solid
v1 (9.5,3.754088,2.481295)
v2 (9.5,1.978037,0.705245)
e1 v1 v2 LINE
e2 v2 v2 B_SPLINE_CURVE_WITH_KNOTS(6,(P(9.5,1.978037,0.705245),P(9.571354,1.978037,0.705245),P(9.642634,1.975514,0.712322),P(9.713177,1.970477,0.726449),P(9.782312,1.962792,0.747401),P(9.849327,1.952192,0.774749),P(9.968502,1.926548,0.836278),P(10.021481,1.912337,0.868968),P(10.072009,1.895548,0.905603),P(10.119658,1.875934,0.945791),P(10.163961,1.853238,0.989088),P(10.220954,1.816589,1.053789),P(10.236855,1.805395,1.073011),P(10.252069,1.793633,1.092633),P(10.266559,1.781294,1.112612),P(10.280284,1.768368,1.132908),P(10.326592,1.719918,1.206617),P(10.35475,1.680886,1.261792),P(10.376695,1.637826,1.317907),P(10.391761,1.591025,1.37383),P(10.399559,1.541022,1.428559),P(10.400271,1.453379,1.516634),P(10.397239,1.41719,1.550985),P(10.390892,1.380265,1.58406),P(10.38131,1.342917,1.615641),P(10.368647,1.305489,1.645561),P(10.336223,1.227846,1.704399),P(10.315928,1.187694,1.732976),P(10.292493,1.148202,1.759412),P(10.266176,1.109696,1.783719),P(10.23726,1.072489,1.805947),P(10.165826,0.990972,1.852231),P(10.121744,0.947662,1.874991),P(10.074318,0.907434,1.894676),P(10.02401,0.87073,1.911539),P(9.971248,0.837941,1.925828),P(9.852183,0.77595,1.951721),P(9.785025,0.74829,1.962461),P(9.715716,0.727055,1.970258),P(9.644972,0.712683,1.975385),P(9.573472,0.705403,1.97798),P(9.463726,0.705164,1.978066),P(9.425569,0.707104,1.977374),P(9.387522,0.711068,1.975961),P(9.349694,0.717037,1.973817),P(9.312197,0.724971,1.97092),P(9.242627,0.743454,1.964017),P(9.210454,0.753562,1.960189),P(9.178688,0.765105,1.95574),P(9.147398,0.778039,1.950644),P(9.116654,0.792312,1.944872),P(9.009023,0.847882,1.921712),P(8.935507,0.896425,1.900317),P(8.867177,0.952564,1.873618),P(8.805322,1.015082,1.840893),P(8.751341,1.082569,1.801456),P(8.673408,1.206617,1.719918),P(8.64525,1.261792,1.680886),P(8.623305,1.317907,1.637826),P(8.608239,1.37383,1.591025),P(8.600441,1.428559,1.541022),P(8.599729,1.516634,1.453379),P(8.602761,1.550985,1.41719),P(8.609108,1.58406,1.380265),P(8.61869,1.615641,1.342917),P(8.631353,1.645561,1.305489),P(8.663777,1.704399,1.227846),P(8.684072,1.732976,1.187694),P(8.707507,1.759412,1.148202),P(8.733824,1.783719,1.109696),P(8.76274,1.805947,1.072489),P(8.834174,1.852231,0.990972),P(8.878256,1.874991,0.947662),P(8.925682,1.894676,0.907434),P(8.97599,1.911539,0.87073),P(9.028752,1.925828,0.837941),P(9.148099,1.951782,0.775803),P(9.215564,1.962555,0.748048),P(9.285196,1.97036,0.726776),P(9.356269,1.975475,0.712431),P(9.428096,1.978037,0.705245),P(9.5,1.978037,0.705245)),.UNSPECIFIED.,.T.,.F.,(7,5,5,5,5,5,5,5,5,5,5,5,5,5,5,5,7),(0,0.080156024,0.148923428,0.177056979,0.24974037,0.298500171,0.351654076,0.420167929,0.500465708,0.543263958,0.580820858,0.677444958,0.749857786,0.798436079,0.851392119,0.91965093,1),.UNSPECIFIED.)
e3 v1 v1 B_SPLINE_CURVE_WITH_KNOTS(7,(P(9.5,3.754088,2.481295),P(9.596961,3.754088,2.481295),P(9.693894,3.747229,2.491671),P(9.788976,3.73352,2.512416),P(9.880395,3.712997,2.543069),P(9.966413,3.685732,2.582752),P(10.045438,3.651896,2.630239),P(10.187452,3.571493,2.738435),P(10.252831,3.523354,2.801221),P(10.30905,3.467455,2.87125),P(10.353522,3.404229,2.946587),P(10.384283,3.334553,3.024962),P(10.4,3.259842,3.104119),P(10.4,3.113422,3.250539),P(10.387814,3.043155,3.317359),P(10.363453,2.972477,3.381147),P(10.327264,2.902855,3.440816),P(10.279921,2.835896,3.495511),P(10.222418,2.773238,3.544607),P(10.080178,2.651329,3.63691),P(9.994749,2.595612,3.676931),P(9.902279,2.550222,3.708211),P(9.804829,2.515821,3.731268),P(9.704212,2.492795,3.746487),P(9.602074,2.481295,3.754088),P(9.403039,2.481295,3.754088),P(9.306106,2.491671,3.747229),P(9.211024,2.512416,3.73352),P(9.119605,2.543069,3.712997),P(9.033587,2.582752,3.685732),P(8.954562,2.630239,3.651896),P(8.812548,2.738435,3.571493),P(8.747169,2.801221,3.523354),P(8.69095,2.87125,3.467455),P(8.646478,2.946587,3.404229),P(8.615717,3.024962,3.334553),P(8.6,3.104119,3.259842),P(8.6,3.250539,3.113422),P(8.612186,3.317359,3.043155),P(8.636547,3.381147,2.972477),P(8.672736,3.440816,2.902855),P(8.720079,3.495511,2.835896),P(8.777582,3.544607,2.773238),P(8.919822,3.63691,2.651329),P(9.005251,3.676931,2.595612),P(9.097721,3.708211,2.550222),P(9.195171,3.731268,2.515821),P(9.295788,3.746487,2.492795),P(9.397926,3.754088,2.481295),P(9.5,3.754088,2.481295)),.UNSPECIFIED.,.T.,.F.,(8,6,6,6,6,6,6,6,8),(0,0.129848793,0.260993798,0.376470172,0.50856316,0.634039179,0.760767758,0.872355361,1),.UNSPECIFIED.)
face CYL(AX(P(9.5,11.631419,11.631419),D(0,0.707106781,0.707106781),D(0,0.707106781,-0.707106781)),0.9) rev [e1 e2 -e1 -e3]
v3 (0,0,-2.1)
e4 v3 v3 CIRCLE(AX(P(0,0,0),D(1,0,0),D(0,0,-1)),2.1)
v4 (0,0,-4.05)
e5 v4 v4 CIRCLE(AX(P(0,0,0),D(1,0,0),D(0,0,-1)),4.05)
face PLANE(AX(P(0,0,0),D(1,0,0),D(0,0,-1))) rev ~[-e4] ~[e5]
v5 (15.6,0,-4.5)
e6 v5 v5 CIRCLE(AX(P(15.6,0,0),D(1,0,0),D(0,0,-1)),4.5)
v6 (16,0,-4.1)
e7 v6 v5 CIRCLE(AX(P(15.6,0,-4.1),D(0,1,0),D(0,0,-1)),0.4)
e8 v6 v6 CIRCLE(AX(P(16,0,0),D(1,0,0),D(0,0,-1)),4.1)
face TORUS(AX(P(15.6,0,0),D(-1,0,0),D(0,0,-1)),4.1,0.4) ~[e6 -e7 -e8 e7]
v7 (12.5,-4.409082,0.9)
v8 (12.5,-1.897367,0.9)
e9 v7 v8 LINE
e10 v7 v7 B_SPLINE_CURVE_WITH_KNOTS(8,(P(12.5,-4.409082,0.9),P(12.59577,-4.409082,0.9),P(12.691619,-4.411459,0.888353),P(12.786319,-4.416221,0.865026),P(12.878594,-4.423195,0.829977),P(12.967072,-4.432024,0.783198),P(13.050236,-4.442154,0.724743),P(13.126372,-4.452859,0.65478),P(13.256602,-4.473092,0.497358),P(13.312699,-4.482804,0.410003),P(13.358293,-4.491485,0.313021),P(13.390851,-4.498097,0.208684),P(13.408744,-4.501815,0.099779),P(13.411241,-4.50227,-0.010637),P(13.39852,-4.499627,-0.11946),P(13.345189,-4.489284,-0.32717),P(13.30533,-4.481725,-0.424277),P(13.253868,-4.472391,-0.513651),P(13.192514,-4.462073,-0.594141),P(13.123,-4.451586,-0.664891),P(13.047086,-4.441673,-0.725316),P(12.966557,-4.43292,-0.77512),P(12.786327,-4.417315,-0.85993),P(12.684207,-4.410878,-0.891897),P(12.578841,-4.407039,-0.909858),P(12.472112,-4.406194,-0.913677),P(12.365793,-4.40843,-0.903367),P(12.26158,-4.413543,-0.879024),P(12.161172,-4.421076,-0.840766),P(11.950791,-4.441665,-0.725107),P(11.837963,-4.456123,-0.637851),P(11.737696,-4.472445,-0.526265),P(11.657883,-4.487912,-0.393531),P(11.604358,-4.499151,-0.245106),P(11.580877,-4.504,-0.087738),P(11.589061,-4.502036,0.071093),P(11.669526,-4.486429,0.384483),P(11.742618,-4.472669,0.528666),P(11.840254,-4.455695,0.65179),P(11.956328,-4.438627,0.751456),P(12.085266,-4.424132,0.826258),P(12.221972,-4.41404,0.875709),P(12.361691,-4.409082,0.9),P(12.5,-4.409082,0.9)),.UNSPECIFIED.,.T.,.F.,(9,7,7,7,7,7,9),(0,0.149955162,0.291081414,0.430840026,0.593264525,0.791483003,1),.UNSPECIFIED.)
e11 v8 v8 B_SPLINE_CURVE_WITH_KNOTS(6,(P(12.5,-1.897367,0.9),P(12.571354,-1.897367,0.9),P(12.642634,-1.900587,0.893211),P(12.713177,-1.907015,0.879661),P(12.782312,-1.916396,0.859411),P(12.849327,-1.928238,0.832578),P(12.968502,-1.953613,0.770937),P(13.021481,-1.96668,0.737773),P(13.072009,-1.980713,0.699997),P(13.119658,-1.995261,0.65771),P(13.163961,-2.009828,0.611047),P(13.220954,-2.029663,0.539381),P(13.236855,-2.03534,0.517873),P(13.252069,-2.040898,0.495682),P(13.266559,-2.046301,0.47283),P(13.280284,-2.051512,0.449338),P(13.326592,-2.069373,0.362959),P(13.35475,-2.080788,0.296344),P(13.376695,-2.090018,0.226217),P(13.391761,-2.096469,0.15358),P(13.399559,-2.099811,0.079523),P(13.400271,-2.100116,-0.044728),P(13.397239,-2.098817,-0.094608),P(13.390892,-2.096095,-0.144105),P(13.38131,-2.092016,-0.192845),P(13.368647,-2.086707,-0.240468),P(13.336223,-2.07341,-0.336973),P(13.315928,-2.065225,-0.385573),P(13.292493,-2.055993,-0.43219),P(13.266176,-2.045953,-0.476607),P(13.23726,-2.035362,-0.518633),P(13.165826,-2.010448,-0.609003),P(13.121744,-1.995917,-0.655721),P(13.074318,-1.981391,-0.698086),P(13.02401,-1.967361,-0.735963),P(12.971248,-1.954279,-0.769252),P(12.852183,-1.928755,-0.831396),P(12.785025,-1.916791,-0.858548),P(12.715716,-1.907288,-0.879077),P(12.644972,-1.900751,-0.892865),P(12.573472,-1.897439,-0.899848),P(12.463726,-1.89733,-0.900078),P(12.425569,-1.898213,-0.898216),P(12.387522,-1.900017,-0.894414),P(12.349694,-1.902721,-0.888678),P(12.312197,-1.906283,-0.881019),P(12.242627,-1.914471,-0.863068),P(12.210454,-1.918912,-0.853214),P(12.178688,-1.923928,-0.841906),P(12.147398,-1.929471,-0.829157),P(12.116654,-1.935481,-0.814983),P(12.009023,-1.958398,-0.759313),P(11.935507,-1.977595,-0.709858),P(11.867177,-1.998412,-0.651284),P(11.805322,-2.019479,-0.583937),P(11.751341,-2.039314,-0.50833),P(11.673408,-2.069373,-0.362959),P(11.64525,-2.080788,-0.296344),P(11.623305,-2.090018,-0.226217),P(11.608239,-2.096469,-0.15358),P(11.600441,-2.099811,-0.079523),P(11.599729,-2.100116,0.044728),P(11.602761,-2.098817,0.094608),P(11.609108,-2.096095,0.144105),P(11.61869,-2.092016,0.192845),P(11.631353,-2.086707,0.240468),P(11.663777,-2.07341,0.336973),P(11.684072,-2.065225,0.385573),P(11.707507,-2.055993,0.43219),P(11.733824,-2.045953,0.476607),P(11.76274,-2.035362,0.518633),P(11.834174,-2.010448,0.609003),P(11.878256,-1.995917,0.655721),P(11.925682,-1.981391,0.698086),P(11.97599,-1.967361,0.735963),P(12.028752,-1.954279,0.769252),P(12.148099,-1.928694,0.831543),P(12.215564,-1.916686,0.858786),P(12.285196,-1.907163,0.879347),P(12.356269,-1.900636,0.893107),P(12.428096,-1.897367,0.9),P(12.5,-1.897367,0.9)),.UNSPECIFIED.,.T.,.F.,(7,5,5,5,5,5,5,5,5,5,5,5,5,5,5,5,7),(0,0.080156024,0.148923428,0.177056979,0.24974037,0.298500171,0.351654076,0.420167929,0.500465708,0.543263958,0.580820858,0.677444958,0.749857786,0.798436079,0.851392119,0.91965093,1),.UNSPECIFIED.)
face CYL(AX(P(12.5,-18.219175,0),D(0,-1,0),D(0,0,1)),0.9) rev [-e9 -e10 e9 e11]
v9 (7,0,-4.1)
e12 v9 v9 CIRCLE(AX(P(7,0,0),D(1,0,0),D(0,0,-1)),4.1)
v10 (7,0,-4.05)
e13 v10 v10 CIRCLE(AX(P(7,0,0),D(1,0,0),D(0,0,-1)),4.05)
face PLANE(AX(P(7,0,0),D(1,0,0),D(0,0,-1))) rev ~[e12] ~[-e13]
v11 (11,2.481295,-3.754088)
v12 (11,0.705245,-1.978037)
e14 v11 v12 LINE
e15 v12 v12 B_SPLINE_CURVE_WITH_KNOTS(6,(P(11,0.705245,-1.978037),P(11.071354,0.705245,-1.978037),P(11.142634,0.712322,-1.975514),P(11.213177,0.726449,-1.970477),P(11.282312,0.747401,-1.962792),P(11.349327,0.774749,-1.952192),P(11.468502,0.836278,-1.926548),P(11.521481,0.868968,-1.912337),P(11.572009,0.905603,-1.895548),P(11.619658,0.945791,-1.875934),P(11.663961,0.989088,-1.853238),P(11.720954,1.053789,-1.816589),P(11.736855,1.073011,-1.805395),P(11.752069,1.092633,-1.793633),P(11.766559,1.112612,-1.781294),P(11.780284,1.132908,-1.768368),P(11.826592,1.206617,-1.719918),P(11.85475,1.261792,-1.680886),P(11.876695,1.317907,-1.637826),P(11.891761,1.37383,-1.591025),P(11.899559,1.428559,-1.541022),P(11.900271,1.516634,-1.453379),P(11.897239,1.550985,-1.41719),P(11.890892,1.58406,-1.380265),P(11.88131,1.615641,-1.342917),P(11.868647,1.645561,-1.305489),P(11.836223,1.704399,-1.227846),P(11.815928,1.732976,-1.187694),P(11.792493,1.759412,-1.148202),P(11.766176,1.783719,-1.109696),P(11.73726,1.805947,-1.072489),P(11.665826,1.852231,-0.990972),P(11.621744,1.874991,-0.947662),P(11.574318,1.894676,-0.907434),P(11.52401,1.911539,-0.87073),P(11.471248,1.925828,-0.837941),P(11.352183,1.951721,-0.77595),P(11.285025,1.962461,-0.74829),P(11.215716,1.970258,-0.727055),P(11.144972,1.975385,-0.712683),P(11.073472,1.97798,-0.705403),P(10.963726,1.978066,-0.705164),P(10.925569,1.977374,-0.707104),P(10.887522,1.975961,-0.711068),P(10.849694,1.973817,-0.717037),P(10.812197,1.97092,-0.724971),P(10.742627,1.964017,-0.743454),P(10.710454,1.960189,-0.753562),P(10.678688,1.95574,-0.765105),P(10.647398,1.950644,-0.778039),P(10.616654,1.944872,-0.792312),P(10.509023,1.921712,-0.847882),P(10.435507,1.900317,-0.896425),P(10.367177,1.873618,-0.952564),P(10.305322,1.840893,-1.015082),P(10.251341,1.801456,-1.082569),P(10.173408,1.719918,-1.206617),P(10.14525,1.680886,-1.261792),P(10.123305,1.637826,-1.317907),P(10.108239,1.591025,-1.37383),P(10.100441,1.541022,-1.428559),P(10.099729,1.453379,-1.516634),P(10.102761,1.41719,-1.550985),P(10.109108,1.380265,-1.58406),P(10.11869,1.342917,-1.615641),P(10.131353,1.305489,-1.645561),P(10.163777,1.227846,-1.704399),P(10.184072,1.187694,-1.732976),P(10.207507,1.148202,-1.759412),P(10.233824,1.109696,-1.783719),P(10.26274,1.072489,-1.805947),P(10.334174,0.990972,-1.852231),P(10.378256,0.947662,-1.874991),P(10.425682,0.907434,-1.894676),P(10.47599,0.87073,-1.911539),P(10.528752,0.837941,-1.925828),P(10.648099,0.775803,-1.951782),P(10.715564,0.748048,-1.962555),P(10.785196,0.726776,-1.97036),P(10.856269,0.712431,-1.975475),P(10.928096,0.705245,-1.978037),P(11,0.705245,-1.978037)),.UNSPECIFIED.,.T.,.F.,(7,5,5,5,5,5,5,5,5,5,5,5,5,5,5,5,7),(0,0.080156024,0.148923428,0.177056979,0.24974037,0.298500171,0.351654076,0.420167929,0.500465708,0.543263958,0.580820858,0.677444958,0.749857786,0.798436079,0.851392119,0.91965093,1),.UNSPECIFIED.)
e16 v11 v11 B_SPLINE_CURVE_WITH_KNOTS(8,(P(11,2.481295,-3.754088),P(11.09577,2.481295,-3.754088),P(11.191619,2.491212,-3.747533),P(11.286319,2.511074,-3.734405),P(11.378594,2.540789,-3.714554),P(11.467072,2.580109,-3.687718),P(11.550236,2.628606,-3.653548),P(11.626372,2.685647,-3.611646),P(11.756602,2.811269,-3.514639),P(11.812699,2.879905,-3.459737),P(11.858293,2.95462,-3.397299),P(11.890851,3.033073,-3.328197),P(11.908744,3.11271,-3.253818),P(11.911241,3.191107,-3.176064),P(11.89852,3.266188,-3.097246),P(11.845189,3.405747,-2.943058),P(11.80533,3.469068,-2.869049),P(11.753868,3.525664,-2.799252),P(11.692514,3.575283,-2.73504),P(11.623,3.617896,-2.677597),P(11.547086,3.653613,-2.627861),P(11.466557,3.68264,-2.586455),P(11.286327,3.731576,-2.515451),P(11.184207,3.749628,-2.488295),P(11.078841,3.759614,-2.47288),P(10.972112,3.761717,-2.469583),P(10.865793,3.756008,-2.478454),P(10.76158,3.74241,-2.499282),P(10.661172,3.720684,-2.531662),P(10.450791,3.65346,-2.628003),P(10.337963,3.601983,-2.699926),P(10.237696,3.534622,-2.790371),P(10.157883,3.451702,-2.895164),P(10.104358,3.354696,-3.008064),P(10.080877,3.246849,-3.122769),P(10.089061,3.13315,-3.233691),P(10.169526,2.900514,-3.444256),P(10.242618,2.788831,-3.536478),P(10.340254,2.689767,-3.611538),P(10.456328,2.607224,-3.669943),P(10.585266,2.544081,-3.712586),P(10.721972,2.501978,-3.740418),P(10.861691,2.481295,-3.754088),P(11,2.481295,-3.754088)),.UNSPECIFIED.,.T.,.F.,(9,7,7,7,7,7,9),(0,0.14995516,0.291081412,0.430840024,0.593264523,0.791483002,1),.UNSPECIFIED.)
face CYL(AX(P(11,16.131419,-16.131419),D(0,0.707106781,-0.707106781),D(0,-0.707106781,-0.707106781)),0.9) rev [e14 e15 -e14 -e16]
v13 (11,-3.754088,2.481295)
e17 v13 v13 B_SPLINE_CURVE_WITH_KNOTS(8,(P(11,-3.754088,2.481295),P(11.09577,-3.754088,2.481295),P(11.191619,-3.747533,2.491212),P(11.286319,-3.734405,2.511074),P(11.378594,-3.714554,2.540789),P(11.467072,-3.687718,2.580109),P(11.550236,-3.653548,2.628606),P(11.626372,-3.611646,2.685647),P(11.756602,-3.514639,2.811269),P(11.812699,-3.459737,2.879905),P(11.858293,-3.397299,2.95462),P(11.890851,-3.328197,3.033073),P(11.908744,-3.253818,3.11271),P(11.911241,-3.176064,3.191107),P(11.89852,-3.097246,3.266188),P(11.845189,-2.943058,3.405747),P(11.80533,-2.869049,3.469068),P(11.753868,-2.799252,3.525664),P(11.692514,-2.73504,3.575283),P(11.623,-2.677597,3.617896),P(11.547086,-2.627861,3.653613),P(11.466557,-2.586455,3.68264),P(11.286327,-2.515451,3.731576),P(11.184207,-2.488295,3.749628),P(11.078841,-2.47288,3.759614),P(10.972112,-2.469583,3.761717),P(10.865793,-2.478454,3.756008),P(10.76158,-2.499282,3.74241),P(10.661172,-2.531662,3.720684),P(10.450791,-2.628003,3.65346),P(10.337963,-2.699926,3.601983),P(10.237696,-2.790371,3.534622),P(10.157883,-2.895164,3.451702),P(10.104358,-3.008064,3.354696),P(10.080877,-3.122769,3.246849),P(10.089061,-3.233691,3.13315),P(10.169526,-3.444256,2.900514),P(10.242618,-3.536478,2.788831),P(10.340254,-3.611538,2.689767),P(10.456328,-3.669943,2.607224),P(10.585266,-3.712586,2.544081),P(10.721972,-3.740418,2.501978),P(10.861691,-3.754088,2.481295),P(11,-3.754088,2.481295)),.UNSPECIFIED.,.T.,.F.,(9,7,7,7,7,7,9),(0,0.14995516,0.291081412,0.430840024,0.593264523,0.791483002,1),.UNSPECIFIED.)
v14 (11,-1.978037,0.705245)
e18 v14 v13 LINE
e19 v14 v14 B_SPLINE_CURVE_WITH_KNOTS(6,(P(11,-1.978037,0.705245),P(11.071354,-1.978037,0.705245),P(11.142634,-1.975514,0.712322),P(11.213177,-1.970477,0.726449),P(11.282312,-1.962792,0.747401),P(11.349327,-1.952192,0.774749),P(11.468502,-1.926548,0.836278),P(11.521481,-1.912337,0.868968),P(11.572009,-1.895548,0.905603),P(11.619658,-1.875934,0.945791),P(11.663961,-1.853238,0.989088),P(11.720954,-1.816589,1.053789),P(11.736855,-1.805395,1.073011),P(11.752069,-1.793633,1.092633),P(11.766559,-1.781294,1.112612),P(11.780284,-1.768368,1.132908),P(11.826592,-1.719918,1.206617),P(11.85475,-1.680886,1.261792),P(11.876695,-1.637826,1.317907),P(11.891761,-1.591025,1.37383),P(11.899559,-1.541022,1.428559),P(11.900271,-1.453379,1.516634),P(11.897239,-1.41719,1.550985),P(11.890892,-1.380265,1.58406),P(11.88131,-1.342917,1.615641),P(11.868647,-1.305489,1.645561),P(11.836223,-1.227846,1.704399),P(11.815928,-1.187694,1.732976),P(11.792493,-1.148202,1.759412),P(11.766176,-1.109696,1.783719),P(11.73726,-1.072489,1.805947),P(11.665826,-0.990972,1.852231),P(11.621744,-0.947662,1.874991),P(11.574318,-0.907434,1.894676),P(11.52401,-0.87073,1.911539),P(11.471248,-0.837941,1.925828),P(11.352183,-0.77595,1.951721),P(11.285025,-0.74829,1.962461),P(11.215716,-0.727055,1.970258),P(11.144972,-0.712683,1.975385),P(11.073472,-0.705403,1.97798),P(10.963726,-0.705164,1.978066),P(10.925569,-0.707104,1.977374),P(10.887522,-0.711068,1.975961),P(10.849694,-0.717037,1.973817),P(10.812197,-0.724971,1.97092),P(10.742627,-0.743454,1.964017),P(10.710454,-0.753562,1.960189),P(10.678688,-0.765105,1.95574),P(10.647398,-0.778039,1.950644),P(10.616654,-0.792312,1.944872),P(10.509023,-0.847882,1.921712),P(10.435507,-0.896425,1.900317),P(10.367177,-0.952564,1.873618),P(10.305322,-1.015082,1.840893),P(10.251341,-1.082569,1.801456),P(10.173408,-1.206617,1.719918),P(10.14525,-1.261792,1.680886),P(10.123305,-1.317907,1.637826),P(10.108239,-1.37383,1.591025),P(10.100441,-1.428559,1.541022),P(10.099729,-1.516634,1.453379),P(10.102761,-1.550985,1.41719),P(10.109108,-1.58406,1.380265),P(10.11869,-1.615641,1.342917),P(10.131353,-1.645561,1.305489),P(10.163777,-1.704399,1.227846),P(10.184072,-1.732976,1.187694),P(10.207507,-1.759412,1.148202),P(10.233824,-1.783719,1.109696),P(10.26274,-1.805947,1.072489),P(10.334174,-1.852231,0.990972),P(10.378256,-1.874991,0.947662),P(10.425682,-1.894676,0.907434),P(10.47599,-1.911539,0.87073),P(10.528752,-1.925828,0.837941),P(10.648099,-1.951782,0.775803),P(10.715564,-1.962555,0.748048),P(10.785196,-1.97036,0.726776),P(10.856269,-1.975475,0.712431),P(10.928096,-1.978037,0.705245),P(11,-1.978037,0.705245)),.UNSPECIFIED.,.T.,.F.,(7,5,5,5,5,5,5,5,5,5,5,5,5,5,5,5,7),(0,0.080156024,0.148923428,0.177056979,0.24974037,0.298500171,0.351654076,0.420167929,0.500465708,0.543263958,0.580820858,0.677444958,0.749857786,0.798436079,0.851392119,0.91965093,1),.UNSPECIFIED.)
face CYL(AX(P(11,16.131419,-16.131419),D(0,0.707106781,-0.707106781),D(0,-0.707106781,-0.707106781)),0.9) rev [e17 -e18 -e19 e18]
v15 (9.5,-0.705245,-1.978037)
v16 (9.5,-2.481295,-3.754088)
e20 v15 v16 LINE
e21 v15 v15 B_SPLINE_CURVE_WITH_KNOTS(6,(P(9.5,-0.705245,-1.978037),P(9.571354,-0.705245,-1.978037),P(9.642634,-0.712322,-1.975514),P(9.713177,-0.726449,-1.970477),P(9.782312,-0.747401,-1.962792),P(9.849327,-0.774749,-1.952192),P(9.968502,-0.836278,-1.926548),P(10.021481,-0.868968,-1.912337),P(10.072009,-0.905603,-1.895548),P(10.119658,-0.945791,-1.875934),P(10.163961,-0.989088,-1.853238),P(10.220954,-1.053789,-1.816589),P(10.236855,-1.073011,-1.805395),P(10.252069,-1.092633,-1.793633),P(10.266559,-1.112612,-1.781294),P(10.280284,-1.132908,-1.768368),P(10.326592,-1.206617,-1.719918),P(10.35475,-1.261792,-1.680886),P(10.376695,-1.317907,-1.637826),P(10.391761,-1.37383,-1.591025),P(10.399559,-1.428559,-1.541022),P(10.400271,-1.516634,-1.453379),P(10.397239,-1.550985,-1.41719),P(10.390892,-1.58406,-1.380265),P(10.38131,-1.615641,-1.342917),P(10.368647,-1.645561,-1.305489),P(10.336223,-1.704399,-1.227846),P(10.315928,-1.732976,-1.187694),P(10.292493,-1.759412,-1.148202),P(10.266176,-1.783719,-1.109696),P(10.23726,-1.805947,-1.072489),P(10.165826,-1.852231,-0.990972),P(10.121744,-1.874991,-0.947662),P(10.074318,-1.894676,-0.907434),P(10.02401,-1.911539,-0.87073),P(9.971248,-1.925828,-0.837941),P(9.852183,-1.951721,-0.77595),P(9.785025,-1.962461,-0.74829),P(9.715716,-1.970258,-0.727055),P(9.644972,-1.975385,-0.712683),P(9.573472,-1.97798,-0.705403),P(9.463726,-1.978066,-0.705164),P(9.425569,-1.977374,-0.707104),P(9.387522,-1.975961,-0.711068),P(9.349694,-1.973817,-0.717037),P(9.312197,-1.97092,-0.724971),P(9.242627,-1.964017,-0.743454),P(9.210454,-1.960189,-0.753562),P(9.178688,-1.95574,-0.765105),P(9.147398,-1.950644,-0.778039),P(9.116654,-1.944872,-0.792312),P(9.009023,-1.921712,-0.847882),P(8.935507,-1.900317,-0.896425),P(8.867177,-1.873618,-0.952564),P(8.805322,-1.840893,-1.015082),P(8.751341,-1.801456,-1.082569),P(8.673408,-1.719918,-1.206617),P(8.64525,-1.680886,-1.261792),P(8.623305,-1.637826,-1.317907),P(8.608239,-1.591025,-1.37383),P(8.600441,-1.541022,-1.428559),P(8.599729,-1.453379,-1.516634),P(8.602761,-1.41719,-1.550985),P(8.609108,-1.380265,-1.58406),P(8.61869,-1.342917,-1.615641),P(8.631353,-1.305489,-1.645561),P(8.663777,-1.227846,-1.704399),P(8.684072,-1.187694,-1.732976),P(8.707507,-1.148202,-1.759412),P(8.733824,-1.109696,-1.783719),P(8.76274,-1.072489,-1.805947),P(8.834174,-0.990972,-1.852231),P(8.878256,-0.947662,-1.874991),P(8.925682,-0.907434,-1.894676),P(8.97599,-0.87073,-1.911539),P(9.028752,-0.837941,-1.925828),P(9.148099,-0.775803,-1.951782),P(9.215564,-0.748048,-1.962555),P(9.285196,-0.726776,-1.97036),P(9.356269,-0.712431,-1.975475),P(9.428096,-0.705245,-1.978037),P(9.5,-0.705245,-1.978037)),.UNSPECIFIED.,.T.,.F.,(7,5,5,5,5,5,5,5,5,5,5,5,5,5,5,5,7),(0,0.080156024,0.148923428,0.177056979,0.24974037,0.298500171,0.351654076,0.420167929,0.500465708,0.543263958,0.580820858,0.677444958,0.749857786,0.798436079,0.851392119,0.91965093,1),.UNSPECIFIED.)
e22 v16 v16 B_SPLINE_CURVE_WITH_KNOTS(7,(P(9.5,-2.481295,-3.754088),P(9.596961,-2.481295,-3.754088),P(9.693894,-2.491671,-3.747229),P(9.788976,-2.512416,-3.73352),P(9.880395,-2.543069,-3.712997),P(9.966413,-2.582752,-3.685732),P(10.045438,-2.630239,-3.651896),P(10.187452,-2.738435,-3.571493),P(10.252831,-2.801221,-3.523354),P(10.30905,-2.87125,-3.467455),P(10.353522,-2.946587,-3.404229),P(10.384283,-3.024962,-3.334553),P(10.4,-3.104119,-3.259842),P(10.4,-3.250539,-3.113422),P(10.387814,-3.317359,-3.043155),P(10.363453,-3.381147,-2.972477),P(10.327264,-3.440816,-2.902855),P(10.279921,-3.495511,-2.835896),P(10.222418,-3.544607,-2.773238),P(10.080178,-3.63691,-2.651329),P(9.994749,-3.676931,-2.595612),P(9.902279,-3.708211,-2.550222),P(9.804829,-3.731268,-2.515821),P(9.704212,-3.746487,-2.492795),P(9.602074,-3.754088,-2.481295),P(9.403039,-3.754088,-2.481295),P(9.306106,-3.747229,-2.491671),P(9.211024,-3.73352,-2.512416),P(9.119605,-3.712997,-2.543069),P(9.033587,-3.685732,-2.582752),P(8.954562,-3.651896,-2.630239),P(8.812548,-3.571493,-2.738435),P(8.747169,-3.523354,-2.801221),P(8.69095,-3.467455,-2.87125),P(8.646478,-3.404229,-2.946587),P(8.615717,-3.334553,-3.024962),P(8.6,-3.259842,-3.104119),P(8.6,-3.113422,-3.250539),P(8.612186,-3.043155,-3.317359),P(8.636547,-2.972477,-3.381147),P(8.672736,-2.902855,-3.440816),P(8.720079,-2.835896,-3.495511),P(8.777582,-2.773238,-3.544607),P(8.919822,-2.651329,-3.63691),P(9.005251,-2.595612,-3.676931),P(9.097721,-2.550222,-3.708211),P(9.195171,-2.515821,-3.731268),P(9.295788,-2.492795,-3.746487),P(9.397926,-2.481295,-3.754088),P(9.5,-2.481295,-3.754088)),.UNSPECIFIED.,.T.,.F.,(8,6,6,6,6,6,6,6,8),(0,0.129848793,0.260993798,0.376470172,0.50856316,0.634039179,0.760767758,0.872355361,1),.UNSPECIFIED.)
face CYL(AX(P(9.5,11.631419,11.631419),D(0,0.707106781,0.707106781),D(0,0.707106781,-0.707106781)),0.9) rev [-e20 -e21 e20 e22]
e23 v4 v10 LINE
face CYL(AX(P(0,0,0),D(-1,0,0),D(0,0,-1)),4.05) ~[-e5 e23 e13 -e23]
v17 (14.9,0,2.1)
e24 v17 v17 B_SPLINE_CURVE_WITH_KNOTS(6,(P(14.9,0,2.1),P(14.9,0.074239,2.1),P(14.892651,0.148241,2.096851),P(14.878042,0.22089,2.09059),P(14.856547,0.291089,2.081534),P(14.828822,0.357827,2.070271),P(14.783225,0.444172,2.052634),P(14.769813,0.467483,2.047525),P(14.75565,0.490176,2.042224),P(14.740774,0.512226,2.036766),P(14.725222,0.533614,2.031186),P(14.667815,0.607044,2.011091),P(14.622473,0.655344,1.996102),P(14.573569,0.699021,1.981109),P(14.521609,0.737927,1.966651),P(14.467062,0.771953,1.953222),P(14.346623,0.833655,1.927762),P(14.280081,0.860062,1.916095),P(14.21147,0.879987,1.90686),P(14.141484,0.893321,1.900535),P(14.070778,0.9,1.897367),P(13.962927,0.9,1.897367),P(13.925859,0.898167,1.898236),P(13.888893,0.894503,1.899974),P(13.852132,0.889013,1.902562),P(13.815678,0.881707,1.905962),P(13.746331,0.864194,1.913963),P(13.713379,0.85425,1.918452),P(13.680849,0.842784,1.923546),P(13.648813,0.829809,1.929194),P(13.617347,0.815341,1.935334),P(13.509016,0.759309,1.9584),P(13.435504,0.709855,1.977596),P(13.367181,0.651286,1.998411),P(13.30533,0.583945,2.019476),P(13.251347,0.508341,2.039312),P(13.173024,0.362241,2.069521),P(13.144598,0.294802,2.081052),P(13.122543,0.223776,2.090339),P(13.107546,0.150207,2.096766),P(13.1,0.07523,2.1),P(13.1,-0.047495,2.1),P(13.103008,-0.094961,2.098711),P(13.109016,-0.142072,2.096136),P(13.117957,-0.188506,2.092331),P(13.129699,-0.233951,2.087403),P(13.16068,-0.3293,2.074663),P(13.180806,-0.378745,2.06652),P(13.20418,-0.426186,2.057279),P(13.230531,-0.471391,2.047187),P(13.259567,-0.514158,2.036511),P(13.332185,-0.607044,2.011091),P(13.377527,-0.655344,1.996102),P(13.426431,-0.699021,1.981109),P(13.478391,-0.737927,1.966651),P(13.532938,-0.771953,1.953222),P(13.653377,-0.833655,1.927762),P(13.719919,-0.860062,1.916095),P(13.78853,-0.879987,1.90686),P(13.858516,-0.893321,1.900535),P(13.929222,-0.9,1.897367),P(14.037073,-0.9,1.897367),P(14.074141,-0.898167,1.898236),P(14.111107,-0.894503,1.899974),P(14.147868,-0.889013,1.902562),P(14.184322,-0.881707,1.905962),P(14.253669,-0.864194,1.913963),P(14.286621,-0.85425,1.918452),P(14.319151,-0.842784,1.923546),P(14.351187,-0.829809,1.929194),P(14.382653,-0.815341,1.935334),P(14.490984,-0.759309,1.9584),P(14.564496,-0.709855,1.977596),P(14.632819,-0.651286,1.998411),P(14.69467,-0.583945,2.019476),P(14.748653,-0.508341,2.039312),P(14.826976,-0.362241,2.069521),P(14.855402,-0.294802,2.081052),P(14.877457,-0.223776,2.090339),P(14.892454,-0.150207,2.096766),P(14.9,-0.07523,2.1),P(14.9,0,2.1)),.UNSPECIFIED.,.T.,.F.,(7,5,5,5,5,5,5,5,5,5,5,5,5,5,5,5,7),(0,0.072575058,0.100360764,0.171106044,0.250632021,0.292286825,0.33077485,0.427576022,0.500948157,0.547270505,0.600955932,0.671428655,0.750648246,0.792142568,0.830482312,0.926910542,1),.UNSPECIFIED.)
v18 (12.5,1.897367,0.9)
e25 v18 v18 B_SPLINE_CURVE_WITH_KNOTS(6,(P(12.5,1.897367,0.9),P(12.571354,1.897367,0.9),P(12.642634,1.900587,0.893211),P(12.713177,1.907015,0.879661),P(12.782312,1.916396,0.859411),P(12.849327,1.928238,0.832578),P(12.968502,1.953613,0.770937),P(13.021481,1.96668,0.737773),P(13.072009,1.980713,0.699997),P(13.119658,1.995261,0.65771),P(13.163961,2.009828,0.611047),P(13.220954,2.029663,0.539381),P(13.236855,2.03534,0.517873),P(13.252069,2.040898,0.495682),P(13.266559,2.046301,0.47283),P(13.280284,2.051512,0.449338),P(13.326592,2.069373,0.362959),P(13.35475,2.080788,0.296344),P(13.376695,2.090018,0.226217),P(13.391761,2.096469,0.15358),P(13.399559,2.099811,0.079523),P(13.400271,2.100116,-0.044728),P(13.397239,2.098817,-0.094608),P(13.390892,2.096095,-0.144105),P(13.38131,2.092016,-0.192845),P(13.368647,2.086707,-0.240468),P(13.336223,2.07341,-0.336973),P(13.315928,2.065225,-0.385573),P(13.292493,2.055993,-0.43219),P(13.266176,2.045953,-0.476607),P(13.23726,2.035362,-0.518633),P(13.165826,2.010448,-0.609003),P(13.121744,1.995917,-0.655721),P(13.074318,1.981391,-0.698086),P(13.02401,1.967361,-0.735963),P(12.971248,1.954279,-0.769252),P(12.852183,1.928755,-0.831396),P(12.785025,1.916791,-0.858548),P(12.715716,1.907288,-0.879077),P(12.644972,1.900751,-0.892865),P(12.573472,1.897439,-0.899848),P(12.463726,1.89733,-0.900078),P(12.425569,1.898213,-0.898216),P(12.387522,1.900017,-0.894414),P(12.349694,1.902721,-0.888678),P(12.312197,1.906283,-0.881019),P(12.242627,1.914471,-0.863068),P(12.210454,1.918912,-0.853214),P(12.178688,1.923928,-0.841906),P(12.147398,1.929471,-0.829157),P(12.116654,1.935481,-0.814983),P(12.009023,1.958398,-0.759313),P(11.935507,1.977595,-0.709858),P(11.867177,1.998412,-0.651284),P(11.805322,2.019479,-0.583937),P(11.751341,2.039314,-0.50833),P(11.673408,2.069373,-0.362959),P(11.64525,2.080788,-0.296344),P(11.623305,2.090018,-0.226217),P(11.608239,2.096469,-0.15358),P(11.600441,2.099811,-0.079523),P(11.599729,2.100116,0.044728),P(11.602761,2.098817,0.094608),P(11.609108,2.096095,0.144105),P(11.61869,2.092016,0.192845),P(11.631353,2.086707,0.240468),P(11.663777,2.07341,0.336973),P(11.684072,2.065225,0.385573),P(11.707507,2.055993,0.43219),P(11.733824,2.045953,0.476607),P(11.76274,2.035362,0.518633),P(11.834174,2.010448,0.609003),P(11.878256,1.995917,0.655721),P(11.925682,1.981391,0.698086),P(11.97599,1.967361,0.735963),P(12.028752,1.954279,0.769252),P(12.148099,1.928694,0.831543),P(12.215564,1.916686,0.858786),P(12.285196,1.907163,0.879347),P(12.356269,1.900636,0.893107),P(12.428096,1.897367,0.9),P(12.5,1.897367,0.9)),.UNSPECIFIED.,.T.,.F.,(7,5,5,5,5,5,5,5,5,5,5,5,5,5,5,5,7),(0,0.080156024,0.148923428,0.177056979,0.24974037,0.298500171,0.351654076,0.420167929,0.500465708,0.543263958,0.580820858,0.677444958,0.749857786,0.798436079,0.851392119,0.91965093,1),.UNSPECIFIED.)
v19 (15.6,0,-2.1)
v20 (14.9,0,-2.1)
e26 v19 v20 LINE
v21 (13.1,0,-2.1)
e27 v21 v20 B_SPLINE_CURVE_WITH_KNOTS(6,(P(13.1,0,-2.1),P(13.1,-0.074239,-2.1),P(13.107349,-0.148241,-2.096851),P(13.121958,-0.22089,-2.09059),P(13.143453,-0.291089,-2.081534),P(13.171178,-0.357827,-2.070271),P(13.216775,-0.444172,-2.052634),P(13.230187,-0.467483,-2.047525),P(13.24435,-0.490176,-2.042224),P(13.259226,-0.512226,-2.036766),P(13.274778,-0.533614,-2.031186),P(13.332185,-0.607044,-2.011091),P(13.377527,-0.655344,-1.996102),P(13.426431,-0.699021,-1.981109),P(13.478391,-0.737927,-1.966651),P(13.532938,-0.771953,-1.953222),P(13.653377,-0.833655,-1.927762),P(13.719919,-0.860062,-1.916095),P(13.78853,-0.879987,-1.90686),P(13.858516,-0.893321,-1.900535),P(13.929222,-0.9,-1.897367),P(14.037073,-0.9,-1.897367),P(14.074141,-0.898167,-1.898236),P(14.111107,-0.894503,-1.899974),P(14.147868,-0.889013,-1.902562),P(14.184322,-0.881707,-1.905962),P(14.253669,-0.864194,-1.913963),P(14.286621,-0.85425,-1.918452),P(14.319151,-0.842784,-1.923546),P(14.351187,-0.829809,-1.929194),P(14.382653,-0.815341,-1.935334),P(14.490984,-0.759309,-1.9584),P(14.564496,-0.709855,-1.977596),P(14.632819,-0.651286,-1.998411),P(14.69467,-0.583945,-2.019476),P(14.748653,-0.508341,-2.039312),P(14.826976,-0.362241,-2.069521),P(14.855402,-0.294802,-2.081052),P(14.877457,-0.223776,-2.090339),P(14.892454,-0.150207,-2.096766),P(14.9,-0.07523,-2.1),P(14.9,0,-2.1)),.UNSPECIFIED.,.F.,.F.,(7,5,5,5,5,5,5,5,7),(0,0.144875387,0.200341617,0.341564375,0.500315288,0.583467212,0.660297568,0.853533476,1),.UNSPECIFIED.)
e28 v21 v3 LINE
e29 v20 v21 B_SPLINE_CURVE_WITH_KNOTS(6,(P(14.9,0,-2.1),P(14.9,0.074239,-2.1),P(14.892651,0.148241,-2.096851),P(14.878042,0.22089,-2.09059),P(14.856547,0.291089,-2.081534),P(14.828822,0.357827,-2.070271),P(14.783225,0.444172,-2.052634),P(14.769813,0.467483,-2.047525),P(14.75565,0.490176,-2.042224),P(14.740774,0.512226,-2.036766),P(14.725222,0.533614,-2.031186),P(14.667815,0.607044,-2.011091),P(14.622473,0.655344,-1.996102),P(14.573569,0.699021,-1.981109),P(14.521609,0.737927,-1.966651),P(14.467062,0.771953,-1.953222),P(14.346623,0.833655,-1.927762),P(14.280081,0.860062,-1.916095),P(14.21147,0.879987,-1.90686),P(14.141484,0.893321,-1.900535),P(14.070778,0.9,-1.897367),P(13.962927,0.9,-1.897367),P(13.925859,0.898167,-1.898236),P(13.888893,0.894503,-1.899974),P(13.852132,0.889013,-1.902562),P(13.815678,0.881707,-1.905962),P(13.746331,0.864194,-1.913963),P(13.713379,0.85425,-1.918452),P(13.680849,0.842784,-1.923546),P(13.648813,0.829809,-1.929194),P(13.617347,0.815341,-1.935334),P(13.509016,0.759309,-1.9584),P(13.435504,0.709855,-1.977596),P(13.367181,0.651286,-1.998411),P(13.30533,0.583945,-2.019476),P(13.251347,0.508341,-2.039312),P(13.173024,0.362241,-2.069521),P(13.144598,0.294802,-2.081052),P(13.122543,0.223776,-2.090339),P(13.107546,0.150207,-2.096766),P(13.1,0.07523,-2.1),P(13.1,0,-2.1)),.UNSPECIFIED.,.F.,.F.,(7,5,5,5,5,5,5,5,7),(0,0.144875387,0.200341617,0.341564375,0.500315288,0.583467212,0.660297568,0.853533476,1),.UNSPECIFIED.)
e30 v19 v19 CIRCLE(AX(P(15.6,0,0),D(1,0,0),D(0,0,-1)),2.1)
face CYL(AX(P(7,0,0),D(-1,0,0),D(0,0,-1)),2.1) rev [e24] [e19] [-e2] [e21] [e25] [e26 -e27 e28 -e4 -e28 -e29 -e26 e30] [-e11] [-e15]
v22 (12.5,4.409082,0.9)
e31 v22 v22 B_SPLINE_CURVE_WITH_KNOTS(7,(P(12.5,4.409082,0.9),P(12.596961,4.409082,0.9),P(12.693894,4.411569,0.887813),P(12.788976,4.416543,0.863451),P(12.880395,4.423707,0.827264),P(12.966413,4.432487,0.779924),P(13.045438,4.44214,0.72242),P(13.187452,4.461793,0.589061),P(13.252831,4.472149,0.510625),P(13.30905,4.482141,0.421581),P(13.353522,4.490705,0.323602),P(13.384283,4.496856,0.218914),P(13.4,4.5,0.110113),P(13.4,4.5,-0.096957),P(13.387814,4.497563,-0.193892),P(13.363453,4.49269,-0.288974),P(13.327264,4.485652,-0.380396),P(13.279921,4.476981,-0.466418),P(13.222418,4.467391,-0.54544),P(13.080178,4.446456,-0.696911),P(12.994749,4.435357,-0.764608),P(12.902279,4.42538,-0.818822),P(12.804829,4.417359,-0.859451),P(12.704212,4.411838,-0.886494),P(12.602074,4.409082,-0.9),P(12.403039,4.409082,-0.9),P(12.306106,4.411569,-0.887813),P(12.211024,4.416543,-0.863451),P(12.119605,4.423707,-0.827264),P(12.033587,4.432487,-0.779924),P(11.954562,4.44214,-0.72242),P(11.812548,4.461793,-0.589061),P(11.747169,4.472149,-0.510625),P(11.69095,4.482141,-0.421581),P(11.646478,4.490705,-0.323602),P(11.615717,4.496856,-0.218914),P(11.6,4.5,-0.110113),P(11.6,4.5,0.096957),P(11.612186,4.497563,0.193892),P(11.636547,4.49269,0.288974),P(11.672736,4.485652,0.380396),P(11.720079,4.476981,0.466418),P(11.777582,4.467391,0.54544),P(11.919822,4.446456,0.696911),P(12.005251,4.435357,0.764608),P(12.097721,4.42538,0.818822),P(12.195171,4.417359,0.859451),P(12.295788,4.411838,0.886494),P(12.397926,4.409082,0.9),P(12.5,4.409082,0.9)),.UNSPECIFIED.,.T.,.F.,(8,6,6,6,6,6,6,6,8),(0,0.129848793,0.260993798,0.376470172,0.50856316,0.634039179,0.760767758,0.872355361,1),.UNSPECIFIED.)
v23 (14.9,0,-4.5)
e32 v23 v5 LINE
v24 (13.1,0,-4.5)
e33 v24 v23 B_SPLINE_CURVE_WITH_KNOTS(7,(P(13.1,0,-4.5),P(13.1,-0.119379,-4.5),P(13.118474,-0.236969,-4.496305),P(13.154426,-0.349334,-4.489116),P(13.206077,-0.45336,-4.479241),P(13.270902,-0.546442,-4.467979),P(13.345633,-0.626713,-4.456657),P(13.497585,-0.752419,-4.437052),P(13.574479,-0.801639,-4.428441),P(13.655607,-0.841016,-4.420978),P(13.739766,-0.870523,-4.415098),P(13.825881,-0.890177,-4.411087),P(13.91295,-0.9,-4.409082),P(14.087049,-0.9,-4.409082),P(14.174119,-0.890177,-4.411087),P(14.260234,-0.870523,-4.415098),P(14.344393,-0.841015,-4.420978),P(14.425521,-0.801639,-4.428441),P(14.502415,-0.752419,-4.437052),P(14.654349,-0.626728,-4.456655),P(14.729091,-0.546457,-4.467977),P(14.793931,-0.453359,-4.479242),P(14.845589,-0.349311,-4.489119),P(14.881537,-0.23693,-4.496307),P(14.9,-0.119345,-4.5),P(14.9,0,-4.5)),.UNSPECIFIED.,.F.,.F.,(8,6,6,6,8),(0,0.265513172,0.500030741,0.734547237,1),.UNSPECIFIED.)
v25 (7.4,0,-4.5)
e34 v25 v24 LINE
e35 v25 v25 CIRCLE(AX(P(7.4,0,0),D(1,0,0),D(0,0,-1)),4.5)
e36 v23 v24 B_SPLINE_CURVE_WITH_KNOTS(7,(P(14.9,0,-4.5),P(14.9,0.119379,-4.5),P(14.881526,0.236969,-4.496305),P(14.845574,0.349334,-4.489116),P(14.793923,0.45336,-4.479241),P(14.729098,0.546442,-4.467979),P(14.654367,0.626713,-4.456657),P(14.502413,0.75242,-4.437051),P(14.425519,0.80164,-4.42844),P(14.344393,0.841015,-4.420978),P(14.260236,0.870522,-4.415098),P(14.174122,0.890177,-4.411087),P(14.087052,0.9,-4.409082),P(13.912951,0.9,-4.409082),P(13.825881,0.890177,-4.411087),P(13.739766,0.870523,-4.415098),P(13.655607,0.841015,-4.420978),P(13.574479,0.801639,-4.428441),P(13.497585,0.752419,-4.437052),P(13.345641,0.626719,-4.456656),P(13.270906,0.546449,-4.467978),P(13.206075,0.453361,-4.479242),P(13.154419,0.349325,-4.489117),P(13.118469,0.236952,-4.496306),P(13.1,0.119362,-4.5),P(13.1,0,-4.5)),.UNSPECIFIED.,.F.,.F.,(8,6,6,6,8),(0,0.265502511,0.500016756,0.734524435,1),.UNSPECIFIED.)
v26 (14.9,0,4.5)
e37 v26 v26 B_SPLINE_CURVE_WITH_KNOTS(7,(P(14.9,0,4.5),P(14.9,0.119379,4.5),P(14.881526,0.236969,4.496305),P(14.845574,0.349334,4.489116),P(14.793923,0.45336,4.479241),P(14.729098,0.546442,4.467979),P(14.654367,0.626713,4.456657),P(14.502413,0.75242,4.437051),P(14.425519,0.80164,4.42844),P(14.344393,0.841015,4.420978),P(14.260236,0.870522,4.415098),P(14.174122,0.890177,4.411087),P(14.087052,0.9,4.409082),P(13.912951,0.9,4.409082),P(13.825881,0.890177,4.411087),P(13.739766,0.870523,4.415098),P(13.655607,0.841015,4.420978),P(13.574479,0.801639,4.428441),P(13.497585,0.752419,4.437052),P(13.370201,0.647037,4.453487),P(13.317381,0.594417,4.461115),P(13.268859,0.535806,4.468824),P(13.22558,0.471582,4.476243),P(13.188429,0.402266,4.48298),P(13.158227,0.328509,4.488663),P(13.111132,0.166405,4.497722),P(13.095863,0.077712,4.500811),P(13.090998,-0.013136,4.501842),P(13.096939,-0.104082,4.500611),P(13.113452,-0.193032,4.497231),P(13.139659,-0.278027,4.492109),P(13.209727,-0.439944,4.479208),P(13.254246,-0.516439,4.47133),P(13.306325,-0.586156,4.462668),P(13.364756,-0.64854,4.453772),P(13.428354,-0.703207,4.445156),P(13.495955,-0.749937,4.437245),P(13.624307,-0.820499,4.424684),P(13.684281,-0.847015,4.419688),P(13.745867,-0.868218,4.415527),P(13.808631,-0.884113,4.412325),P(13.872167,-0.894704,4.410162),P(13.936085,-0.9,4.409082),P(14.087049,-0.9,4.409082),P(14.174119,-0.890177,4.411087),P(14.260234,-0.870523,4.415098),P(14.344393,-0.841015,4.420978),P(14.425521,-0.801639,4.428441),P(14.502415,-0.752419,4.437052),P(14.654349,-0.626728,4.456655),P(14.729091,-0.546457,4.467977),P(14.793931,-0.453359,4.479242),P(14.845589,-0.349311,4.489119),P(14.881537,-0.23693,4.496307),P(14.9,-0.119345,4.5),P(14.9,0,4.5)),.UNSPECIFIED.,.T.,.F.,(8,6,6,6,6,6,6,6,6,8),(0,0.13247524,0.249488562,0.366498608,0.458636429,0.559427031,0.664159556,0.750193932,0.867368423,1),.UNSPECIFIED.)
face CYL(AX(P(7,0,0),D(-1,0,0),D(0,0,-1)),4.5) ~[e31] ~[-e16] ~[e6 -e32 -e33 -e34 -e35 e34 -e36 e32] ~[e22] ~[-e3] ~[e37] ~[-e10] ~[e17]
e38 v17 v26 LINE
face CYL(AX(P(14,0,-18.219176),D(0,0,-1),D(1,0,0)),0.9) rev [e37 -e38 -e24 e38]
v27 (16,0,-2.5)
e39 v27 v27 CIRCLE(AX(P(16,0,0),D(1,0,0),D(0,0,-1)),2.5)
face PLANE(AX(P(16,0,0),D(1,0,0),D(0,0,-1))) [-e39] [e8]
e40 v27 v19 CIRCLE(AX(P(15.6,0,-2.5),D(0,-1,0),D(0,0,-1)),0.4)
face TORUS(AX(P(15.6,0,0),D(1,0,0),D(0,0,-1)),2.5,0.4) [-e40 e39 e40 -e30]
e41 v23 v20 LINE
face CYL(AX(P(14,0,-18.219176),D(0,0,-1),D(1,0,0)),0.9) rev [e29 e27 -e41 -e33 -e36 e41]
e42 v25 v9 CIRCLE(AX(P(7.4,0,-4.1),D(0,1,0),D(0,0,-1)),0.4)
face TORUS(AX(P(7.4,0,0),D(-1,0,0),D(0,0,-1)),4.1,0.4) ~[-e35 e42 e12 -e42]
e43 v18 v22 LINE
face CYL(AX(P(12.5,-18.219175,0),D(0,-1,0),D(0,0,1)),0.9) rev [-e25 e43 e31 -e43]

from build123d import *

# Parameters (mm, degrees)
SKETCH1_R               = 4.05
SKETCH1_R_2             = 2.1
BOSS_EXTRUDE1_DEPTH     = 7
SKETCH2_R               = 4.5
SKETCH2_R_2             = 2.1
BOSS_EXTRUDE2_DEPTH     = 9
FILLET1_R               = 0.4
CUT_EXTRUDE1_DEPTH      = 18.219175358
CUT_EXTRUDE1_DEPTH_BACK = 18.219175358
SKETCH3_R               = 0.9
CUT_EXTRUDE2_DEPTH      = 18.219175503
CUT_EXTRUDE2_DEPTH_BACK = 18.219175503
SKETCH4_R               = 0.9
CUT_EXTRUDE3_DEPTH      = 19.631291042
CUT_EXTRUDE3_DEPTH_BACK = 19.631291042
SKETCH6_R               = 0.9
CUT_EXTRUDE4_DEPTH      = 19.631291042
CUT_EXTRUDE4_DEPTH_BACK = 19.631291042
SKETCH7_R               = 0.9
FILLET2_R               = 0.4
FILLET3_R               = 0.4


with BuildPart() as part:
    # Sketch1 → Boss-Extrude1 (new body)
    with BuildSketch(Plane(origin=(0, 0, 0), x_dir=(0, 0, -1), z_dir=(1, 0, 0))):
        Circle(SKETCH1_R)
        Circle(SKETCH1_R_2, mode=Mode.SUBTRACT)
    extrude(amount=BOSS_EXTRUDE1_DEPTH)

    # Sketch2 → Boss-Extrude2 (add)
    with BuildSketch(Plane(origin=(7, 0, 0), x_dir=(0, 0, -1), z_dir=(1, 0, 0))):
        Circle(SKETCH2_R)
        Circle(SKETCH2_R_2, mode=Mode.SUBTRACT)
    extrude(amount=BOSS_EXTRUDE2_DEPTH)

    # Fillet1
    fillet1_edges = [part.edges().sort_by_distance(p)[0] for p in [
        (16, 0, 2.1),
    ]]
    fillet(fillet1_edges, radius=FILLET1_R)

    # Sketch3 → Cut-Extrude1 (cut, two sides: drawn at the far end of the back side and taken through both)
    with BuildSketch(Plane(origin=(0, 0, 0), x_dir=(1, 0, 0), z_dir=(0, 1, 0)).offset(-CUT_EXTRUDE1_DEPTH_BACK)):
        with Locations((12.5, 0)):
            Circle(SKETCH3_R)
    extrude(amount=CUT_EXTRUDE1_DEPTH + CUT_EXTRUDE1_DEPTH_BACK, mode=Mode.SUBTRACT)

    # Sketch4 → Cut-Extrude2 (cut, two sides: drawn at the far end of the back side and taken through both)
    with BuildSketch(Plane.XY.offset(-CUT_EXTRUDE2_DEPTH_BACK)):
        with Locations((14, 0)):
            Circle(SKETCH4_R)
    extrude(amount=CUT_EXTRUDE2_DEPTH + CUT_EXTRUDE2_DEPTH_BACK, mode=Mode.SUBTRACT)

    # Sketch6 → Cut-Extrude3 (cut, two sides: drawn at the far end of the back side and taken through both)
    with BuildSketch(Plane(origin=(0, 2.25, -2.25), x_dir=(1, 0, 0), z_dir=(0, -0.7071067811865488, 0.7071067811865464)).offset(-CUT_EXTRUDE3_DEPTH_BACK)):
        with Locations((11, 0)):
            Circle(SKETCH6_R)
    extrude(amount=CUT_EXTRUDE3_DEPTH + CUT_EXTRUDE3_DEPTH_BACK, mode=Mode.SUBTRACT)

    # Sketch7 → Cut-Extrude4 (cut, two sides: drawn at the far end of the back side and taken through both)
    with BuildSketch(Plane(origin=(0, -2.25, -2.25), x_dir=(1, 0, 0), z_dir=(0, -0.7071067811865438, -0.7071067811865512)).offset(-CUT_EXTRUDE4_DEPTH_BACK)):
        with Locations((9.5, 0)):
            Circle(SKETCH7_R)
    extrude(amount=CUT_EXTRUDE4_DEPTH + CUT_EXTRUDE4_DEPTH_BACK, mode=Mode.SUBTRACT)

    # Fillet2
    fillet2_edges = [part.edges().sort_by_distance(p)[0] for p in [
        (16, 0, 4.5),
    ]]
    fillet(fillet2_edges, radius=FILLET2_R)

    # Fillet3
    fillet3_edges = [part.edges().sort_by_distance(p)[0] for p in [
        (7, 0, 4.5),
    ]]
    fillet(fillet3_edges, radius=FILLET3_R)


solid = part.part
